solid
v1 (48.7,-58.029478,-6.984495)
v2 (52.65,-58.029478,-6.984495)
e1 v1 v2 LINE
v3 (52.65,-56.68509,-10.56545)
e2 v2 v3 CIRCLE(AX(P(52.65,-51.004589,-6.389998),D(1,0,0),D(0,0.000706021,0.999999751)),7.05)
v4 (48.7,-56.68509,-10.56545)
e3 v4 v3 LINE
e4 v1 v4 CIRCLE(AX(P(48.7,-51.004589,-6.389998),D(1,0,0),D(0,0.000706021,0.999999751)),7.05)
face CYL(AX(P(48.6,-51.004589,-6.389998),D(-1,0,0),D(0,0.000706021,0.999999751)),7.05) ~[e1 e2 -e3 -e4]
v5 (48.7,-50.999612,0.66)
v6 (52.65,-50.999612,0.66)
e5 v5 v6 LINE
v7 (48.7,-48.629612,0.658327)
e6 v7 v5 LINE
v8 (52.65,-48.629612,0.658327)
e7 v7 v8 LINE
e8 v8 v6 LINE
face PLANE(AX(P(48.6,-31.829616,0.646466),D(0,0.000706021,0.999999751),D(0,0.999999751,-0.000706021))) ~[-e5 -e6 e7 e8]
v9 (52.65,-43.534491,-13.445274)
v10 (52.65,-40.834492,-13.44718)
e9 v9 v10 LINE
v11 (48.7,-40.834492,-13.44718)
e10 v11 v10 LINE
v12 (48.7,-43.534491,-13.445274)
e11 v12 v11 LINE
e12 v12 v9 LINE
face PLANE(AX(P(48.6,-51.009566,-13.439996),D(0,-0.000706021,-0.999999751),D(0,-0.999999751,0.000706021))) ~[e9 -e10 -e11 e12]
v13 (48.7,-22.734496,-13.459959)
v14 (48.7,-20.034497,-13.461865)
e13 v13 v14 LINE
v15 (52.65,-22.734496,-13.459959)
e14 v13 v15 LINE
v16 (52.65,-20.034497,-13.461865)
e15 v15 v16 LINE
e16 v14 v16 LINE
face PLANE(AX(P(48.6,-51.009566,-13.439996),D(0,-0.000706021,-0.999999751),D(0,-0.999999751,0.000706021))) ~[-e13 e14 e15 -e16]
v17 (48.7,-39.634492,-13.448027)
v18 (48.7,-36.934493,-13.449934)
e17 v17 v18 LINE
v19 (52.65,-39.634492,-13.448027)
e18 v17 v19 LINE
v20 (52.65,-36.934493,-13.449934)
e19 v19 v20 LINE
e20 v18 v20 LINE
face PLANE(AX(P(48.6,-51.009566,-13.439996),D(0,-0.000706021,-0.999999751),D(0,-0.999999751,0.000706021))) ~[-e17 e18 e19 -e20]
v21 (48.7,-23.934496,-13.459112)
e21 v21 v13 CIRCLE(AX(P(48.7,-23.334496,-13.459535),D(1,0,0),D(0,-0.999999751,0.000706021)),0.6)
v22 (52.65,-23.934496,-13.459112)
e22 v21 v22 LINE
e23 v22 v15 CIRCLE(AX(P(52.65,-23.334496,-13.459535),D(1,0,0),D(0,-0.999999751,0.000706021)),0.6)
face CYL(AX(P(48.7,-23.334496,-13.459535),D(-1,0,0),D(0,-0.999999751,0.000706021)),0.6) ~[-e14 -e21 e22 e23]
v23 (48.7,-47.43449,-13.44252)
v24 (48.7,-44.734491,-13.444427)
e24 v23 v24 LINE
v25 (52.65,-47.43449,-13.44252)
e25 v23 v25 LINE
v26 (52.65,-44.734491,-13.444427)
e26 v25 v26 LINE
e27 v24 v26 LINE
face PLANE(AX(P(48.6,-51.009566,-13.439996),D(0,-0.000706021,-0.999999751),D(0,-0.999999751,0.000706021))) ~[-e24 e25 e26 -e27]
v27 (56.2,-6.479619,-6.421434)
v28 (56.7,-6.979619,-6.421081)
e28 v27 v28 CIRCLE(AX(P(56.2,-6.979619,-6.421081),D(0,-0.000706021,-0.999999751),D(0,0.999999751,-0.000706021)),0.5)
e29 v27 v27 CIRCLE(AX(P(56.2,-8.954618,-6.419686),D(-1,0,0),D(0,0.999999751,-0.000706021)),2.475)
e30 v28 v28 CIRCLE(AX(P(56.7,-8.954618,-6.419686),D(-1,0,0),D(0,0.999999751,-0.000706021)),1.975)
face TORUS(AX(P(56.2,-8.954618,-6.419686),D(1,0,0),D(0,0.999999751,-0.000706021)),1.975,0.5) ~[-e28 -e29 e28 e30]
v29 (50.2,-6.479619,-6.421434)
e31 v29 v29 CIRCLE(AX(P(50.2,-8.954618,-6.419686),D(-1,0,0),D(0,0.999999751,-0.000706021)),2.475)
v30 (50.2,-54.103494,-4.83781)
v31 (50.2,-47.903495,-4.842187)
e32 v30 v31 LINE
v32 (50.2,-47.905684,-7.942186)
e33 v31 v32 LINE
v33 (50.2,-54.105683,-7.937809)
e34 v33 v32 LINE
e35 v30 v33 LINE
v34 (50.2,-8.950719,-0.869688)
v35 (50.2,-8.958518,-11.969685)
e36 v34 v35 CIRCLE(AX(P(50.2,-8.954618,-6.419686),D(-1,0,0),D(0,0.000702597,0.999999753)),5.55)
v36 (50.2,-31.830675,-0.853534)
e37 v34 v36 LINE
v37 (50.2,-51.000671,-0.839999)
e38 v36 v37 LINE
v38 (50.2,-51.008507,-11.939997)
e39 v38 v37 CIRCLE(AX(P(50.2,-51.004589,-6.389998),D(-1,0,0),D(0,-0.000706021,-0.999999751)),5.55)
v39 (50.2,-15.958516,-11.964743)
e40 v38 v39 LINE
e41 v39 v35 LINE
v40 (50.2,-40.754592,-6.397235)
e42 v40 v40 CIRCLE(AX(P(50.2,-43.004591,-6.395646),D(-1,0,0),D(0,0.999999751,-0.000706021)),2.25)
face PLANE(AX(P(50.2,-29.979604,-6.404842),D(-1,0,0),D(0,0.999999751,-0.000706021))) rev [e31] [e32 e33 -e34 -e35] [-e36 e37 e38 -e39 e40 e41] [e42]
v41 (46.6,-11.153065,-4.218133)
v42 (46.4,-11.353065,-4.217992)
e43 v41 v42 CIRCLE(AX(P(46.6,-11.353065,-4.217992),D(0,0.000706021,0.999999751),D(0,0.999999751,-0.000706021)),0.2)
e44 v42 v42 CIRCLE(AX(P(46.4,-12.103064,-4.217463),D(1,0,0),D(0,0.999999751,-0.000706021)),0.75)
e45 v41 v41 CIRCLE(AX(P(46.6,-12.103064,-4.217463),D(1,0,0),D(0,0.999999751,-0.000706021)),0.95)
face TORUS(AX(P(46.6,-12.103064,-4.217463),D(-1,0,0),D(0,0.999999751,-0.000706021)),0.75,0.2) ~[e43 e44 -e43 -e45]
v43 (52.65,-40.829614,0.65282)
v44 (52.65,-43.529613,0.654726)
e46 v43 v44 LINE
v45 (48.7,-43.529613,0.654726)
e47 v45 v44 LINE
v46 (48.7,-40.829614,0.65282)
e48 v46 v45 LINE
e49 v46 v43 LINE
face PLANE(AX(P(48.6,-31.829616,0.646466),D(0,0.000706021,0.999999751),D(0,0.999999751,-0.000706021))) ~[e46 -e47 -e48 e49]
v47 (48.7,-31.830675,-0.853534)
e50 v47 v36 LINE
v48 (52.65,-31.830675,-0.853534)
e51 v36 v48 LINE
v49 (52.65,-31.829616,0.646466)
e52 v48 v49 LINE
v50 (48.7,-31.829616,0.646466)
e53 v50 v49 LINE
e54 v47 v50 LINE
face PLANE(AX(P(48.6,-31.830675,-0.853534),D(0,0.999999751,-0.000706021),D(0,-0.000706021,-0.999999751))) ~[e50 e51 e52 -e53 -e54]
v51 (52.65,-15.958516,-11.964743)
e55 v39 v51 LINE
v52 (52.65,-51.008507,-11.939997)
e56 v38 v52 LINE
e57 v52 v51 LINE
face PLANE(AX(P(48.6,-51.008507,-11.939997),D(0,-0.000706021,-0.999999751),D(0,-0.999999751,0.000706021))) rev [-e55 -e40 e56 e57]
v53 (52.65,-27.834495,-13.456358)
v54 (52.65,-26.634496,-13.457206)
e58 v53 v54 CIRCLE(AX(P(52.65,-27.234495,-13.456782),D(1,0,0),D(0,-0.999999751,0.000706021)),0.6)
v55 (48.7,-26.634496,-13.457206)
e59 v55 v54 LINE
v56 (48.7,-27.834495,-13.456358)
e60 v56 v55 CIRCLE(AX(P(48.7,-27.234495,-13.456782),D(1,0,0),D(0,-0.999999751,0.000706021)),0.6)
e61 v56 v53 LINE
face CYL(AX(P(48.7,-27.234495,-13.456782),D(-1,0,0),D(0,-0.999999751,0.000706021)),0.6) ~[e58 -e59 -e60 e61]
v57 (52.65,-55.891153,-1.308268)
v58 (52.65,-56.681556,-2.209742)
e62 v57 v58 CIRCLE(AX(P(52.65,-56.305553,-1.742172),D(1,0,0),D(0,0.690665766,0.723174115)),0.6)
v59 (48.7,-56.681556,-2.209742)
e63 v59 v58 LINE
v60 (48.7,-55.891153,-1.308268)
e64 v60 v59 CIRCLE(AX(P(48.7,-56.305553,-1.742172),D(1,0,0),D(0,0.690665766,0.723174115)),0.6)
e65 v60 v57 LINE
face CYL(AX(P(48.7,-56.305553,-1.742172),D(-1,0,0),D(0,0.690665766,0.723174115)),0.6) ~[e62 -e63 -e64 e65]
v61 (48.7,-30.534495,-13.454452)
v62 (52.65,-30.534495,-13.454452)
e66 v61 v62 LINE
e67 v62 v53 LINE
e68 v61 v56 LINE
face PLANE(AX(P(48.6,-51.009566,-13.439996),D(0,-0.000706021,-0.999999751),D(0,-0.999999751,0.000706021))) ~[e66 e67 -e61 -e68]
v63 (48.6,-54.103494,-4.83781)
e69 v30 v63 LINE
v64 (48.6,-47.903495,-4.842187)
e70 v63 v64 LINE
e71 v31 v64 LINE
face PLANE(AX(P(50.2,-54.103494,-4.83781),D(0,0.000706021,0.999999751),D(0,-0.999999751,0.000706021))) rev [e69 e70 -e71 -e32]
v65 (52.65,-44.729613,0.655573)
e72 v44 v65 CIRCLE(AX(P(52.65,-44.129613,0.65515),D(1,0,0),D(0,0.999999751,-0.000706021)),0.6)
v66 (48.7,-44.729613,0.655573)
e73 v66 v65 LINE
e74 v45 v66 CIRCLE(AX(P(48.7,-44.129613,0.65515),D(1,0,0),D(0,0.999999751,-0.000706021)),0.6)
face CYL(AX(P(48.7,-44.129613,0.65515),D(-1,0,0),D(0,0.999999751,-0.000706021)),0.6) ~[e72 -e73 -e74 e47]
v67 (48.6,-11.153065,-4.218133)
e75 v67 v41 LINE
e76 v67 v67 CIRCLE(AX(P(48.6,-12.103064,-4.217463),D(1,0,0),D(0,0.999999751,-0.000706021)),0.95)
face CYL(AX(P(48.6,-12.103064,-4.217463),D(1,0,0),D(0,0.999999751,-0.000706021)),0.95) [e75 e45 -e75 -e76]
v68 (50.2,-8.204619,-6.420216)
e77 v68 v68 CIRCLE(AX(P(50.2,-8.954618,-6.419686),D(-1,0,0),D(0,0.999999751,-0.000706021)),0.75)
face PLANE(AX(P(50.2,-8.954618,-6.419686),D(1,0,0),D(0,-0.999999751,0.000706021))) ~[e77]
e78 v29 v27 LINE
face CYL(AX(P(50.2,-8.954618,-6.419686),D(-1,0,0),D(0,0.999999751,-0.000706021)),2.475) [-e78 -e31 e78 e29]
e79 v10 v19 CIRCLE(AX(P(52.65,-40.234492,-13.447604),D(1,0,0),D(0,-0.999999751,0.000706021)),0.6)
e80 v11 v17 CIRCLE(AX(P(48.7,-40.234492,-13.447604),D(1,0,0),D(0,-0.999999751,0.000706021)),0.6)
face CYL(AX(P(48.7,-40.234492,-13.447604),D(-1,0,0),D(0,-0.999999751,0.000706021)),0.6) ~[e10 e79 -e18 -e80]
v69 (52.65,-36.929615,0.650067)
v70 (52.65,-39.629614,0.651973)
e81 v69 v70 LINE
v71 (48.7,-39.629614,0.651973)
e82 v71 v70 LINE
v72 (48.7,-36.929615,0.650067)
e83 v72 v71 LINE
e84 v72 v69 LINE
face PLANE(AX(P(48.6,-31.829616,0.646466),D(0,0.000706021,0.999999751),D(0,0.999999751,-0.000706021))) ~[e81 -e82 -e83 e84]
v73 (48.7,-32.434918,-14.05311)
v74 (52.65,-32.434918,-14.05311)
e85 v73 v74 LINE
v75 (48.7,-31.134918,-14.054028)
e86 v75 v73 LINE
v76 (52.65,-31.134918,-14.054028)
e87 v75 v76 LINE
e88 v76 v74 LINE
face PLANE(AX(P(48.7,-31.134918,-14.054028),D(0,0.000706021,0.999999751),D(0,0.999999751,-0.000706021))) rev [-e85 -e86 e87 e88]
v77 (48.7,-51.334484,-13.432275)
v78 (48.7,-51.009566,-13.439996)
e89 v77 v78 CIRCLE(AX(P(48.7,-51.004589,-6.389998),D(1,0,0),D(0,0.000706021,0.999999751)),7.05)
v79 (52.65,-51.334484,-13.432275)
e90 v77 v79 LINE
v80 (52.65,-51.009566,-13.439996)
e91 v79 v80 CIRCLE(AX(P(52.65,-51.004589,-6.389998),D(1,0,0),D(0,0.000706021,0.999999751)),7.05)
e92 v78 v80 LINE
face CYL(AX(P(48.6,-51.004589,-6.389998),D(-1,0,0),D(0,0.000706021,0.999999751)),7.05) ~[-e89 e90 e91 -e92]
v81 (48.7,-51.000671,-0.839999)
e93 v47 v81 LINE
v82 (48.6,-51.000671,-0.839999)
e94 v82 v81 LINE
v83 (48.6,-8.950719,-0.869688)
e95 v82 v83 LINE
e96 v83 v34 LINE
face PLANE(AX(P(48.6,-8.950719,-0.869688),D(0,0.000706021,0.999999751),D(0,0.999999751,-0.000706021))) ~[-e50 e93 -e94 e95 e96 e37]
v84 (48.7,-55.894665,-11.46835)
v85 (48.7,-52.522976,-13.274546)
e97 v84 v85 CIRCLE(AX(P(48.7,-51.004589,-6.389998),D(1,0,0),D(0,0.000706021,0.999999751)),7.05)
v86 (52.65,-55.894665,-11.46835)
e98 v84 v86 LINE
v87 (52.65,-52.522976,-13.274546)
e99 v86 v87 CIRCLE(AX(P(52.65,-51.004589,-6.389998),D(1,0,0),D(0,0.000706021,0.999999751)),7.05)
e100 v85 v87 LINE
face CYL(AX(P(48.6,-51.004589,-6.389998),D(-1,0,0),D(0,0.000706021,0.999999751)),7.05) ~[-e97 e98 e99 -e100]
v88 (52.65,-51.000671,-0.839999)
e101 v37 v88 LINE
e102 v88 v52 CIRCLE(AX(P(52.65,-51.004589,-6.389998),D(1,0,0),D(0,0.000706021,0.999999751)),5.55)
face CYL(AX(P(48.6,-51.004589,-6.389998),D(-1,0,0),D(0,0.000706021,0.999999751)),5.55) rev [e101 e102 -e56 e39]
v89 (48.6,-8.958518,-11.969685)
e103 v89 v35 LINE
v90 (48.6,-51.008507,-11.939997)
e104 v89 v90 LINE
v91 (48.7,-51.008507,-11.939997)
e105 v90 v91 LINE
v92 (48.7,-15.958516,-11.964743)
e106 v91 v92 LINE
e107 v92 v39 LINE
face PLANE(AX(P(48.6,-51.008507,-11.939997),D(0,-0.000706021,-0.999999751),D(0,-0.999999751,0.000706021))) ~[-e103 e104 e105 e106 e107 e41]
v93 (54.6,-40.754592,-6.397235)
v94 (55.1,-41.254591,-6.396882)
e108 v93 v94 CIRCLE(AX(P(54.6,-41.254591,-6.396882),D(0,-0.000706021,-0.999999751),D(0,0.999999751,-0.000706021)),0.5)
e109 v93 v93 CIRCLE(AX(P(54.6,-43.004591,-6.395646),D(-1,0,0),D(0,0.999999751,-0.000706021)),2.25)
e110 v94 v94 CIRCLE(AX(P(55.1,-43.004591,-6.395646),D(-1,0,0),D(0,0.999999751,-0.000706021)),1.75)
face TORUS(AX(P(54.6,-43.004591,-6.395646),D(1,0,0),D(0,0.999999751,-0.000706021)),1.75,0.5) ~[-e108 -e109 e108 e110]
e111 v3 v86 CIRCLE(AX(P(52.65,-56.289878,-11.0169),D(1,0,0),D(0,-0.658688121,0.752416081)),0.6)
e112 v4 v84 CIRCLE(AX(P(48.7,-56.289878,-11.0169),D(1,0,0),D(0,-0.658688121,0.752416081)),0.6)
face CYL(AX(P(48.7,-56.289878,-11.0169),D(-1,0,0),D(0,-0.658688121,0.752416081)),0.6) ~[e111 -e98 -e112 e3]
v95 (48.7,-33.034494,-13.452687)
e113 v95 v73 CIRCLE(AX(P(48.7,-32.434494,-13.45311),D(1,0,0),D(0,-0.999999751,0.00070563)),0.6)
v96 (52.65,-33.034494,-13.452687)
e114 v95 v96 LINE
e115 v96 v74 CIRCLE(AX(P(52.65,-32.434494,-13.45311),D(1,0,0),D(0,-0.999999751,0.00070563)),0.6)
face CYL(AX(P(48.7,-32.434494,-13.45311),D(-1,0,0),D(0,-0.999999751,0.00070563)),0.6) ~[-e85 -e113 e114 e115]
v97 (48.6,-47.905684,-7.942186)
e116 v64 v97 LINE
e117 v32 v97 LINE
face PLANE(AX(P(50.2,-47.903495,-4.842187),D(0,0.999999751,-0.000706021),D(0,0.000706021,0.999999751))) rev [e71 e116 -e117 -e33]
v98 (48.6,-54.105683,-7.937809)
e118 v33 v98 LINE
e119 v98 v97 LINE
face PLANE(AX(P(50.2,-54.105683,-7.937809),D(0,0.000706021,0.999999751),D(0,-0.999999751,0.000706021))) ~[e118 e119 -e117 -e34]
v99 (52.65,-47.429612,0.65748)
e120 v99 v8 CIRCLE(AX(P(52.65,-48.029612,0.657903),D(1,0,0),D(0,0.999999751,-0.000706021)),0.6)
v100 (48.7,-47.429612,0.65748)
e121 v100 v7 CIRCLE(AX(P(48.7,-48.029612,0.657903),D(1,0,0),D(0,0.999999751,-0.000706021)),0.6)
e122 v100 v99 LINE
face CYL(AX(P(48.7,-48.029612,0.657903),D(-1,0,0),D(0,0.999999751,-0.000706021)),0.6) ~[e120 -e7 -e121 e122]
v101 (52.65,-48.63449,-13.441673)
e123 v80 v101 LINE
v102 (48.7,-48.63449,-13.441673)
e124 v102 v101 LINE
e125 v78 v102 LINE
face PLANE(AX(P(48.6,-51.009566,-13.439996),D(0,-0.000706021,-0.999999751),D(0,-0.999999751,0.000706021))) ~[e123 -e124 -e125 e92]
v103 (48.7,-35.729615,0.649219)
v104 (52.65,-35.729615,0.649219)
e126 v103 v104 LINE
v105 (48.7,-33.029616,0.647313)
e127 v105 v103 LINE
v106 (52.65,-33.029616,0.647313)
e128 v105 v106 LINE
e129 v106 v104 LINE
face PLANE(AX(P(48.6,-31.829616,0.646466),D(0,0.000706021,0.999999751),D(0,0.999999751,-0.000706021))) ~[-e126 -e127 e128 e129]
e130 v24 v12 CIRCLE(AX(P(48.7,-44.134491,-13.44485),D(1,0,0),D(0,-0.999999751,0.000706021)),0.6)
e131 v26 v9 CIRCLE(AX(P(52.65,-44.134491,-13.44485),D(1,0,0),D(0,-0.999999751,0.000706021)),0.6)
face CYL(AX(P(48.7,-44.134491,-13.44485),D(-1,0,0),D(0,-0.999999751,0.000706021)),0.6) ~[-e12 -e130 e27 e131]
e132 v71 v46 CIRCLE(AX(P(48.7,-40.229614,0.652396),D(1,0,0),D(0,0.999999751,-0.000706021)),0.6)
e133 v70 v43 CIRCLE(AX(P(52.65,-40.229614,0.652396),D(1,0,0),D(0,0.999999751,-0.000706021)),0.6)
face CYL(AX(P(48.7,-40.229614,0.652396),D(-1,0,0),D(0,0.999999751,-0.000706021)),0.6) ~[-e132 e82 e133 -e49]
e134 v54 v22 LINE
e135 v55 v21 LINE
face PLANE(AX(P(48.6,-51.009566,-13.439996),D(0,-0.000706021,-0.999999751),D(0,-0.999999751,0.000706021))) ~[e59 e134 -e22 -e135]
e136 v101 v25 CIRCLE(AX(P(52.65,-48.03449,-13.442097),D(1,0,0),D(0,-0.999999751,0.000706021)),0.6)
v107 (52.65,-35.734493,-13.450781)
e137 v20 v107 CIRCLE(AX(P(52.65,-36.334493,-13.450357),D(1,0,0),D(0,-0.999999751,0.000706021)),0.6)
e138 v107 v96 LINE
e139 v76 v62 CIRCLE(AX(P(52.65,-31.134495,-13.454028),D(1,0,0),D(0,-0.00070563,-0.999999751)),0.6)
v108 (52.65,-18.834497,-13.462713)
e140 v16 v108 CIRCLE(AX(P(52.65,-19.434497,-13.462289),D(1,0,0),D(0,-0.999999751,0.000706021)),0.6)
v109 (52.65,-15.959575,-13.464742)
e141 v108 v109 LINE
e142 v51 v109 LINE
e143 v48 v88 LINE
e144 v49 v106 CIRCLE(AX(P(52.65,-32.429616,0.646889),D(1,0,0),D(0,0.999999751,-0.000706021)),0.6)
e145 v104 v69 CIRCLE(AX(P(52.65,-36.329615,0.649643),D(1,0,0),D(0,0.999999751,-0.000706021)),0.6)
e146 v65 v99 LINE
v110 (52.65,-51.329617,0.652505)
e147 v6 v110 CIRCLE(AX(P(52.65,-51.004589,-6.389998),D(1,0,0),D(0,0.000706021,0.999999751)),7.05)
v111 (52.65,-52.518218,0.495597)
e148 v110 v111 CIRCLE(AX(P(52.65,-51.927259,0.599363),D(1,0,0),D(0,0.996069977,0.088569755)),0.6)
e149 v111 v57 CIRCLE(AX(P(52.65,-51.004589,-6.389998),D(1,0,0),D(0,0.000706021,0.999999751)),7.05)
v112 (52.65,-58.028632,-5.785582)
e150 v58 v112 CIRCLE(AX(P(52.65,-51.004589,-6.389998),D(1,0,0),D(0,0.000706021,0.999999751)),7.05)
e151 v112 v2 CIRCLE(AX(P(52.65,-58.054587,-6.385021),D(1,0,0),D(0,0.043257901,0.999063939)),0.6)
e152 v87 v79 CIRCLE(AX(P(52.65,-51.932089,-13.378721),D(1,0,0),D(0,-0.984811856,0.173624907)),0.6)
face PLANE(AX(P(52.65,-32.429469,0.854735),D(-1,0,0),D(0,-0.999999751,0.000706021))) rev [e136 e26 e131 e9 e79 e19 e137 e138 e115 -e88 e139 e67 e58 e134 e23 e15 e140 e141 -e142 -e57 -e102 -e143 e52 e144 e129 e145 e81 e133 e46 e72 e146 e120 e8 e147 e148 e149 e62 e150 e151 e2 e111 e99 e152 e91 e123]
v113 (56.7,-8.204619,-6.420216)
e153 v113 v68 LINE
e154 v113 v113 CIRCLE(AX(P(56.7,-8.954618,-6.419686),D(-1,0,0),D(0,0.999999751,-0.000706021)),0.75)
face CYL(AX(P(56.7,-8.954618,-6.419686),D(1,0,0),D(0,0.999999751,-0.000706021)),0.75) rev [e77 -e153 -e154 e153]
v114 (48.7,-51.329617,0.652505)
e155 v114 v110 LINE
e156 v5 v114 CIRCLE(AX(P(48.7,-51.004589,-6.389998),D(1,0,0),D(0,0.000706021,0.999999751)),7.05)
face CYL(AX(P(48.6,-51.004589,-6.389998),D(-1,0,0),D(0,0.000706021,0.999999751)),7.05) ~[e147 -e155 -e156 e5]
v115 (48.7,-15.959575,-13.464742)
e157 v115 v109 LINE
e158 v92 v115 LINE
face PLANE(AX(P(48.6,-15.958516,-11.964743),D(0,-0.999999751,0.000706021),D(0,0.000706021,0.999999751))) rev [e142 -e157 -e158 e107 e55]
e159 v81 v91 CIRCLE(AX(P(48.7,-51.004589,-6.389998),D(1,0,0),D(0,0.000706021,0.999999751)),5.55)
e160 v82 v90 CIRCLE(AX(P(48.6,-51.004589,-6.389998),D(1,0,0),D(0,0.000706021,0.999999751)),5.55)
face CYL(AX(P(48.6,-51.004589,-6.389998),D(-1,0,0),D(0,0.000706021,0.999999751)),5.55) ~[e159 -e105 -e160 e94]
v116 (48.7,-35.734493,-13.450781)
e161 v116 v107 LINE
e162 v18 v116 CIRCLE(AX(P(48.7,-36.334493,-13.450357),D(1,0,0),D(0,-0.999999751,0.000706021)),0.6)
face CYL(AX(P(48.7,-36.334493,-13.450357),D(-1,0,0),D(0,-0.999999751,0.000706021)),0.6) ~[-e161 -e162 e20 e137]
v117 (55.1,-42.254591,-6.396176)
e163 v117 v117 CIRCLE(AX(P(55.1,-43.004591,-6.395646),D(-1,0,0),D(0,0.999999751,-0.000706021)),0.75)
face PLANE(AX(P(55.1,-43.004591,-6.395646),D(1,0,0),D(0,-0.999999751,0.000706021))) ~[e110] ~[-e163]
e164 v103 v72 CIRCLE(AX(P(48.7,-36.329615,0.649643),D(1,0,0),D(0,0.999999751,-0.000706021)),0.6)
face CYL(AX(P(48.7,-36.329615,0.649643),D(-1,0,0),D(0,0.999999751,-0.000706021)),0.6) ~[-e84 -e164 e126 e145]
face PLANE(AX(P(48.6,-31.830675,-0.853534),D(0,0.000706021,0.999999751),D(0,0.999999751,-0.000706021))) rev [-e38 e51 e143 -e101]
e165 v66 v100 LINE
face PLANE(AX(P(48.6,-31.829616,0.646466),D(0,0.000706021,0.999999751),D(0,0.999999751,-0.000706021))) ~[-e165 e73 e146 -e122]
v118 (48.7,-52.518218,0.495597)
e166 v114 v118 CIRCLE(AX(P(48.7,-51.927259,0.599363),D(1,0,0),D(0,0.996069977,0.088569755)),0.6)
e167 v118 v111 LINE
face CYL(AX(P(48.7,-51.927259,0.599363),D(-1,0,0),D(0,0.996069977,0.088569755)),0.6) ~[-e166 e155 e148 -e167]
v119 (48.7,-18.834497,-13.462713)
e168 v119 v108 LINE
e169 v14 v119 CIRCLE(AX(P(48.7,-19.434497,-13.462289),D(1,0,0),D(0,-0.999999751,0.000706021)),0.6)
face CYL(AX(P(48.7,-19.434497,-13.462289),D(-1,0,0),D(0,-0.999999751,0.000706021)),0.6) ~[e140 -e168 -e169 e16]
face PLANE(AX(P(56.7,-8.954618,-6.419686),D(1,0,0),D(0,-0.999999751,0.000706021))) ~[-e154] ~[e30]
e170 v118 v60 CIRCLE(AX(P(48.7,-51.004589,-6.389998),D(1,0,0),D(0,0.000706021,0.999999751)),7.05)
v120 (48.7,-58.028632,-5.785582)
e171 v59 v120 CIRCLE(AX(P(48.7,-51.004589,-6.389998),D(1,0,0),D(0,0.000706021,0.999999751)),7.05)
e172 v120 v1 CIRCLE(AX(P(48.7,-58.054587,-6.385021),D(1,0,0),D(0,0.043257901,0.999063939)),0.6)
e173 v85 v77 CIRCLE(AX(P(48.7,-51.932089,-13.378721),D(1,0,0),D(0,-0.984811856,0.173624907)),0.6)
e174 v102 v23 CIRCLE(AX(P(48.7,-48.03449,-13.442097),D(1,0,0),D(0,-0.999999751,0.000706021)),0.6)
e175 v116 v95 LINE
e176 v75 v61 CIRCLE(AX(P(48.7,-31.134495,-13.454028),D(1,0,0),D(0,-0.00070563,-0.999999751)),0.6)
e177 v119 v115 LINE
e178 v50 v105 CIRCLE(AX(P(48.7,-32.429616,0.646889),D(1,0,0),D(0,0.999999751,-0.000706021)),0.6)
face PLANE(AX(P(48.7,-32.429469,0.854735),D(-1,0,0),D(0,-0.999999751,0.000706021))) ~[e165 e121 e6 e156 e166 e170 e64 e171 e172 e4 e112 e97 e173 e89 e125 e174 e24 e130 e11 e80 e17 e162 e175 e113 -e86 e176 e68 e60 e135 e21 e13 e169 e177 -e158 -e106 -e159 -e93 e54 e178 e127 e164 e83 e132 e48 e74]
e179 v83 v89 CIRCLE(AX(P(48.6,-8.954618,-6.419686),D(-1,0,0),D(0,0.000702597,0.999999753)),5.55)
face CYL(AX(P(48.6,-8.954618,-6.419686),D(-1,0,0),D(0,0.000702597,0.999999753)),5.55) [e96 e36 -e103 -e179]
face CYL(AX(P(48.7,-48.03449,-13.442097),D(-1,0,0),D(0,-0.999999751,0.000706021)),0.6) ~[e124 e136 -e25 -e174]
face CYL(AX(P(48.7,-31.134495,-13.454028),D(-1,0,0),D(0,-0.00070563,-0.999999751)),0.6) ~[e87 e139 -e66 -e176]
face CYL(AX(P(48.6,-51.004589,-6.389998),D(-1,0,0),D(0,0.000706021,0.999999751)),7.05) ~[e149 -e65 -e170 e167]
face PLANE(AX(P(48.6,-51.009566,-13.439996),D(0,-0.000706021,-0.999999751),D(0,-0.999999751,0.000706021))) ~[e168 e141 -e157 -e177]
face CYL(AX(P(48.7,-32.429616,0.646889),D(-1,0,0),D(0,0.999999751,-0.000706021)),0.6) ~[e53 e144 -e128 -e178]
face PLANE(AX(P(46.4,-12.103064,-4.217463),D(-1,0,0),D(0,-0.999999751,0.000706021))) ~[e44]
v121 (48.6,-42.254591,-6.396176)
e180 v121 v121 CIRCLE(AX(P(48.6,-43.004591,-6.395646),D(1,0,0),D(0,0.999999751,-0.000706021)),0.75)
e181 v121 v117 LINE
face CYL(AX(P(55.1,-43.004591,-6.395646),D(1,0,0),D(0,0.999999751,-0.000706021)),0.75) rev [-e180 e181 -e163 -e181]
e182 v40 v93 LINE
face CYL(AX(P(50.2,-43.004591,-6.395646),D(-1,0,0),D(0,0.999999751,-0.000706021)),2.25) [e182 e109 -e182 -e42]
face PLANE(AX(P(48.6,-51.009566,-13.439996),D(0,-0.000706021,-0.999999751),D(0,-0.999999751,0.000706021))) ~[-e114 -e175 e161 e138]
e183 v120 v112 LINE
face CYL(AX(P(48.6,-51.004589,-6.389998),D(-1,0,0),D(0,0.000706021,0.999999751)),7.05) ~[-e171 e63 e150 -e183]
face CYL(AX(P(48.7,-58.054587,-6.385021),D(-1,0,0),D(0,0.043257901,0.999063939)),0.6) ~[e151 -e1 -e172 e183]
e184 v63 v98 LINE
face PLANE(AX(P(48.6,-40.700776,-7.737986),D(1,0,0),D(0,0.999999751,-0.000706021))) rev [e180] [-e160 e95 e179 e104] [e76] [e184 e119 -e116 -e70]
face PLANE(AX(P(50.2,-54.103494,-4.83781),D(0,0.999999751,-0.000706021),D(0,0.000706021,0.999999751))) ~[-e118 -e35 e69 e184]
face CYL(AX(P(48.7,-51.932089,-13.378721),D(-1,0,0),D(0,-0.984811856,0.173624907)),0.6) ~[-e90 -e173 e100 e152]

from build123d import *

# Parameters (mm, degrees)
PAD122_DEPTH                      = 1.6
PAD123_DEPTH                      = 4.05
POCKET098_DEPTH                   = 0.1
SKETCH216_R                       = 0.75
SKETCH216_W                       = 6
SKETCH216_H                       = 3
POCKET099_DEPTH                   = 1.6
PAD124_DEPTH                      = 3.95
SKETCH218_R                       = 2.25
PAD125_DEPTH                      = 4.9
SKETCH219_R                       = 0.75
POCKET100_DEPTH                   = 4.9
SKETCH220_R                       = 2.475
PAD126_DEPTH                      = 6.5
SKETCH221_R                       = 0.75
POCKET101_DEPTH                   = 6.5
FILLET044_R                       = 0.5
SKETCH222_R                       = 0.95
PAD127_DEPTH                      = 2.2
FILLET045_R                       = 0.2
SKETCH356_W                       = 6.2
SKETCH356_H                       = 3.1
POCKET172_DEPTH                   = 5
BODY018_ROLL_ANGLE                = -90
BODY018_PITCH_ANGLE               = 0.040452
BODY018_PLACEMENT_ANGLE           = 90
PART_MIRRORING002_PLACEMENT_ANGLE = 180


with BuildPart() as right_inner_leg001:
    # Sketch214 → Pad122 (new body)
    with BuildSketch(Plane.XY):
        with BuildLine():
            Line((0, 5.55), (42.05, 5.55))
            ThreePointArc((42.049962, -5.55), (47.599981, -1.9e-05), (42.05, 5.55))
            Line((42.049962, -5.55), (0, -5.55))
            ThreePointArc((0, 5.55), (-5.55, 0), (0, -5.55))
        make_face()
    extrude(amount=PAD122_DEPTH)

    # Sketch215 (on Face5 of Pad122) → Pad123 (join)
    with BuildSketch(Plane(origin=(0, 0, 0), x_dir=(1, 0, 0), z_dir=(0, 0, -1))):
        with BuildLine():
            Line((19.17, 5.55), (0, 5.55))
            ThreePointArc((0, 5.55), (-5.55, 0), (0, -5.55))
            Line((0, -5.55), (35.05, -5.55))
            Line((35.05, -5.55), (35.05, -7.05))
            Line((0, -7.05), (35.05, -7.05))
            ThreePointArc((0, 7.05), (-7.05, 0), (0, -7.05))
            Line((19.17, 7.05), (0, 7.05))
            Line((19.17, 5.55), (19.17, 7.05))
        make_face()
    extrude(amount=-PAD123_DEPTH)

    # Sketch215 (on Face5 of Pad122) → Pocket098 (cut)
    with BuildSketch(Plane(origin=(0, 0, 0), x_dir=(1, 0, 0), z_dir=(0, 0, -1))):
        with BuildLine():
            Line((19.17, 5.55), (0, 5.55))
            ThreePointArc((0, 5.55), (-5.55, 0), (0, -5.55))
            Line((0, -5.55), (35.05, -5.55))
            Line((35.05, -5.55), (35.05, -7.05))
            Line((0, -7.05), (35.05, -7.05))
            ThreePointArc((0, 7.05), (-7.05, 0), (0, -7.05))
            Line((19.17, 7.05), (0, 7.05))
            Line((19.17, 5.55), (19.17, 7.05))
        make_face()
    extrude(amount=-POCKET098_DEPTH, mode=Mode.SUBTRACT)

    # Sketch216 (on Face1 of Pocket098) → Pocket099 (cut)
    with BuildSketch(Plane(origin=(0, 0, 0), x_dir=(1, 0, 0), z_dir=(0, 0, -1))):
        with Locations((8, 0)):
            Circle(SKETCH216_R)
        Rectangle(SKETCH216_W, SKETCH216_H)
    extrude(amount=-POCKET099_DEPTH, mode=Mode.SUBTRACT)

    # Sketch217 (on Face11 of Pocket099) → Pad124 (join)
    with BuildSketch(Plane(origin=(0, 0, 0.1), x_dir=(1, 0, 0), z_dir=(0, 0, -1))):
        with BuildLine():
            ThreePointArc((19.17, 7.05), (18.57, 7.65), (17.97, 7.05))
            Line((19.17, 7.05), (17.97, 7.05))
        make_face()
        with BuildLine():
            ThreePointArc((15.27, 7.05), (14.67, 7.65), (14.07, 7.05))
            Line((15.27, 7.05), (14.07, 7.05))
        make_face()
        with BuildLine():
            ThreePointArc((11.37, 7.05), (10.77, 7.65), (10.17, 7.05))
            Line((11.37, 7.05), (10.17, 7.05))
        make_face()
        with BuildLine():
            ThreePointArc((7.47, 7.05), (6.87, 7.65), (6.27, 7.05))
            Line((7.47, 7.05), (6.27, 7.05))
        make_face()
        with BuildLine():
            ThreePointArc((3.57, 7.05), (2.97, 7.65), (2.37, 7.05))
            Line((3.57, 7.05), (2.37, 7.05))
        make_face()
        with BuildLine():
            ThreePointArc((-0.33, 7.042272), (-1.006549, 7.583492), (-1.51849, 6.884525))
            Line((-0.33, 7.042272), (-1.51849, 6.884525))
        make_face()
        with BuildLine():
            ThreePointArc((-4.890151, 5.078279), (-5.755669, 5.039323), (-5.679917, 4.176247))
            Line((-4.890151, 5.078279), (-5.679917, 4.176247))
        make_face()
        with BuildLine():
            ThreePointArc((-7.024468, 0.599457), (-7.65, 0), (-7.024468, -0.599457))
            Line((-7.024468, 0.599457), (-7.024468, -0.599457))
        make_face()
        with BuildLine():
            ThreePointArc((-5.677552, -4.179462), (-5.733191, -5.026164), (-4.886489, -5.081803))
            Line((-4.886489, -5.081803), (-5.677552, -4.179462))
        make_face()
        with BuildLine():
            ThreePointArc((-1.513526, -6.885618), (-1.001082, -7.584216), (-0.324923, -7.042508))
            Line((-0.324923, -7.042508), (-1.513526, -6.885618))
        make_face()
        with BuildLine():
            ThreePointArc((2.375077, -7.05), (2.975077, -7.65), (3.575077, -7.05))
            Line((3.575077, -7.05), (2.375077, -7.05))
        make_face()
        with BuildLine():
            ThreePointArc((6.275077, -7.05), (6.875077, -7.65), (7.475077, -7.05))
            Line((7.475077, -7.05), (6.275077, -7.05))
        make_face()
        with BuildLine():
            ThreePointArc((10.175077, -7.05), (10.775077, -7.65), (11.375077, -7.05))
            Line((11.375077, -7.05), (10.175077, -7.05))
        make_face()
        with BuildLine():
            ThreePointArc((14.075077, -7.05), (14.675077, -7.65), (15.275077, -7.05))
            Line((15.275077, -7.05), (14.075077, -7.05))
        make_face()
        with BuildLine():
            ThreePointArc((23.175077, -7.05), (23.775077, -7.65), (24.375077, -7.05))
            Line((24.375077, -7.05), (23.175077, -7.05))
        make_face()
        with BuildLine():
            ThreePointArc((27.075077, -7.05), (27.675077, -7.65), (28.275077, -7.05))
            Line((28.275077, -7.05), (27.075077, -7.05))
        make_face()
        with BuildLine():
            ThreePointArc((30.975077, -7.05), (31.575077, -7.65), (32.175077, -7.05))
            Line((32.175077, -7.05), (30.975077, -7.05))
        make_face()
        with BuildLine():
            ThreePointArc((17.975077, -7.05), (18.150813, -7.474264), (18.575077, -7.65))
            Line((19.875077, -7.65), (18.575077, -7.65))
            ThreePointArc((19.875077, -7.65), (20.299341, -7.474264), (20.475077, -7.05))
            Line((20.475077, -7.05), (17.975077, -7.05))
        make_face()
    extrude(amount=-PAD124_DEPTH)

    # Sketch218 (on Face12 of Pad124) → Pad125 (join)
    with BuildSketch(Plane.XY.offset(1.6)):
        with Locations((8, 0)):
            Circle(SKETCH218_R)
    extrude(amount=PAD125_DEPTH)

    # Sketch219 (on Face61 of Pad125) → Pocket100 (cut)
    with BuildSketch(Plane.XY.offset(6.5)):
        with Locations((8, 0)):
            Circle(SKETCH219_R)
    extrude(amount=-POCKET100_DEPTH, mode=Mode.SUBTRACT)

    # Sketch220 (on Face12 of Pocket100) → Pad126 (join)
    with BuildSketch(Plane.XY.offset(1.6)):
        with Locations((42.049981, 0)):
            Circle(SKETCH220_R)
    extrude(amount=PAD126_DEPTH)

    # Sketch221 (on Face62 of Pad126) → Pocket101 (cut)
    with BuildSketch(Plane.XY.offset(8.1)):
        with Locations((42.049981, 0)):
            Circle(SKETCH221_R)
    extrude(amount=-POCKET101_DEPTH, mode=Mode.SUBTRACT)

    # Fillet044
    fillet044_edges = [right_inner_leg001.edges().sort_by_distance(p)[0] for p in [
        (39.574981, 0, 8.1),
        (5.75, 0, 6.5),
    ]]
    fillet(fillet044_edges, radius=FILLET044_R)

    # Sketch222 (on Face5 of Fillet044) → Pad127 (join)
    with BuildSketch(Plane(origin=(0, 0, 0), x_dir=(1, 0, 0), z_dir=(0, 0, -1))):
        with Locations((38.899981, 2.2)):
            Circle(SKETCH222_R)
    extrude(amount=PAD127_DEPTH)

    # Fillet045
    fillet045_edges = [right_inner_leg001.edges().sort_by_distance(p)[0] for p in [
        (37.949981, -2.2, -2.2),
    ]]
    fillet(fillet045_edges, radius=FILLET045_R)

    # Sketch356 (on Face16 of Fillet045) → Pocket172 (cut)
    with BuildSketch(Plane.XY.offset(1.6)):
        Rectangle(SKETCH356_W, SKETCH356_H)
    extrude(amount=-POCKET172_DEPTH, mode=Mode.SUBTRACT)


with BuildPart() as right_inner_leg001_1:
    # Body018 roll: moved
    add(right_inner_leg001.part.rotate(Axis((0, 0, 0), (1, 0, 0)), BODY018_ROLL_ANGLE))


with BuildPart() as right_inner_leg001_2:
    # Body018 pitch: moved
    add(right_inner_leg001_1.part.rotate(Axis((0, 0, 0), (0, 1, 0)), BODY018_PITCH_ANGLE))


with BuildPart() as right_inner_leg001_3:
    # Body018 placement: moved
    add(right_inner_leg001_2.part.moved(Location((-10.89, -44.504589, -8.889998))).rotate(Axis((-10.89, -44.504589, -8.889998), (0, 0, 1)), BODY018_PLACEMENT_ANGLE))


with BuildPart() as left_inner_leg:
    # Part__Mirroring002: instance of Right_Inner_Leg001
    add(right_inner_leg001_3.part.mirror(Plane(origin=(0, 0, 0), x_dir=(0, 1, 0), z_dir=(0, 0, 1))))


with BuildPart() as left_inner_leg_1:
    # Part__Mirroring002 placement: moved
    add(left_inner_leg.part.moved(Location((37.71, -6.5, 2.5))).rotate(Axis((37.71, -6.5, 2.5), (0, -1, 0)), PART_MIRRORING002_PLACEMENT_ANGLE))


solid = left_inner_leg_1.part
